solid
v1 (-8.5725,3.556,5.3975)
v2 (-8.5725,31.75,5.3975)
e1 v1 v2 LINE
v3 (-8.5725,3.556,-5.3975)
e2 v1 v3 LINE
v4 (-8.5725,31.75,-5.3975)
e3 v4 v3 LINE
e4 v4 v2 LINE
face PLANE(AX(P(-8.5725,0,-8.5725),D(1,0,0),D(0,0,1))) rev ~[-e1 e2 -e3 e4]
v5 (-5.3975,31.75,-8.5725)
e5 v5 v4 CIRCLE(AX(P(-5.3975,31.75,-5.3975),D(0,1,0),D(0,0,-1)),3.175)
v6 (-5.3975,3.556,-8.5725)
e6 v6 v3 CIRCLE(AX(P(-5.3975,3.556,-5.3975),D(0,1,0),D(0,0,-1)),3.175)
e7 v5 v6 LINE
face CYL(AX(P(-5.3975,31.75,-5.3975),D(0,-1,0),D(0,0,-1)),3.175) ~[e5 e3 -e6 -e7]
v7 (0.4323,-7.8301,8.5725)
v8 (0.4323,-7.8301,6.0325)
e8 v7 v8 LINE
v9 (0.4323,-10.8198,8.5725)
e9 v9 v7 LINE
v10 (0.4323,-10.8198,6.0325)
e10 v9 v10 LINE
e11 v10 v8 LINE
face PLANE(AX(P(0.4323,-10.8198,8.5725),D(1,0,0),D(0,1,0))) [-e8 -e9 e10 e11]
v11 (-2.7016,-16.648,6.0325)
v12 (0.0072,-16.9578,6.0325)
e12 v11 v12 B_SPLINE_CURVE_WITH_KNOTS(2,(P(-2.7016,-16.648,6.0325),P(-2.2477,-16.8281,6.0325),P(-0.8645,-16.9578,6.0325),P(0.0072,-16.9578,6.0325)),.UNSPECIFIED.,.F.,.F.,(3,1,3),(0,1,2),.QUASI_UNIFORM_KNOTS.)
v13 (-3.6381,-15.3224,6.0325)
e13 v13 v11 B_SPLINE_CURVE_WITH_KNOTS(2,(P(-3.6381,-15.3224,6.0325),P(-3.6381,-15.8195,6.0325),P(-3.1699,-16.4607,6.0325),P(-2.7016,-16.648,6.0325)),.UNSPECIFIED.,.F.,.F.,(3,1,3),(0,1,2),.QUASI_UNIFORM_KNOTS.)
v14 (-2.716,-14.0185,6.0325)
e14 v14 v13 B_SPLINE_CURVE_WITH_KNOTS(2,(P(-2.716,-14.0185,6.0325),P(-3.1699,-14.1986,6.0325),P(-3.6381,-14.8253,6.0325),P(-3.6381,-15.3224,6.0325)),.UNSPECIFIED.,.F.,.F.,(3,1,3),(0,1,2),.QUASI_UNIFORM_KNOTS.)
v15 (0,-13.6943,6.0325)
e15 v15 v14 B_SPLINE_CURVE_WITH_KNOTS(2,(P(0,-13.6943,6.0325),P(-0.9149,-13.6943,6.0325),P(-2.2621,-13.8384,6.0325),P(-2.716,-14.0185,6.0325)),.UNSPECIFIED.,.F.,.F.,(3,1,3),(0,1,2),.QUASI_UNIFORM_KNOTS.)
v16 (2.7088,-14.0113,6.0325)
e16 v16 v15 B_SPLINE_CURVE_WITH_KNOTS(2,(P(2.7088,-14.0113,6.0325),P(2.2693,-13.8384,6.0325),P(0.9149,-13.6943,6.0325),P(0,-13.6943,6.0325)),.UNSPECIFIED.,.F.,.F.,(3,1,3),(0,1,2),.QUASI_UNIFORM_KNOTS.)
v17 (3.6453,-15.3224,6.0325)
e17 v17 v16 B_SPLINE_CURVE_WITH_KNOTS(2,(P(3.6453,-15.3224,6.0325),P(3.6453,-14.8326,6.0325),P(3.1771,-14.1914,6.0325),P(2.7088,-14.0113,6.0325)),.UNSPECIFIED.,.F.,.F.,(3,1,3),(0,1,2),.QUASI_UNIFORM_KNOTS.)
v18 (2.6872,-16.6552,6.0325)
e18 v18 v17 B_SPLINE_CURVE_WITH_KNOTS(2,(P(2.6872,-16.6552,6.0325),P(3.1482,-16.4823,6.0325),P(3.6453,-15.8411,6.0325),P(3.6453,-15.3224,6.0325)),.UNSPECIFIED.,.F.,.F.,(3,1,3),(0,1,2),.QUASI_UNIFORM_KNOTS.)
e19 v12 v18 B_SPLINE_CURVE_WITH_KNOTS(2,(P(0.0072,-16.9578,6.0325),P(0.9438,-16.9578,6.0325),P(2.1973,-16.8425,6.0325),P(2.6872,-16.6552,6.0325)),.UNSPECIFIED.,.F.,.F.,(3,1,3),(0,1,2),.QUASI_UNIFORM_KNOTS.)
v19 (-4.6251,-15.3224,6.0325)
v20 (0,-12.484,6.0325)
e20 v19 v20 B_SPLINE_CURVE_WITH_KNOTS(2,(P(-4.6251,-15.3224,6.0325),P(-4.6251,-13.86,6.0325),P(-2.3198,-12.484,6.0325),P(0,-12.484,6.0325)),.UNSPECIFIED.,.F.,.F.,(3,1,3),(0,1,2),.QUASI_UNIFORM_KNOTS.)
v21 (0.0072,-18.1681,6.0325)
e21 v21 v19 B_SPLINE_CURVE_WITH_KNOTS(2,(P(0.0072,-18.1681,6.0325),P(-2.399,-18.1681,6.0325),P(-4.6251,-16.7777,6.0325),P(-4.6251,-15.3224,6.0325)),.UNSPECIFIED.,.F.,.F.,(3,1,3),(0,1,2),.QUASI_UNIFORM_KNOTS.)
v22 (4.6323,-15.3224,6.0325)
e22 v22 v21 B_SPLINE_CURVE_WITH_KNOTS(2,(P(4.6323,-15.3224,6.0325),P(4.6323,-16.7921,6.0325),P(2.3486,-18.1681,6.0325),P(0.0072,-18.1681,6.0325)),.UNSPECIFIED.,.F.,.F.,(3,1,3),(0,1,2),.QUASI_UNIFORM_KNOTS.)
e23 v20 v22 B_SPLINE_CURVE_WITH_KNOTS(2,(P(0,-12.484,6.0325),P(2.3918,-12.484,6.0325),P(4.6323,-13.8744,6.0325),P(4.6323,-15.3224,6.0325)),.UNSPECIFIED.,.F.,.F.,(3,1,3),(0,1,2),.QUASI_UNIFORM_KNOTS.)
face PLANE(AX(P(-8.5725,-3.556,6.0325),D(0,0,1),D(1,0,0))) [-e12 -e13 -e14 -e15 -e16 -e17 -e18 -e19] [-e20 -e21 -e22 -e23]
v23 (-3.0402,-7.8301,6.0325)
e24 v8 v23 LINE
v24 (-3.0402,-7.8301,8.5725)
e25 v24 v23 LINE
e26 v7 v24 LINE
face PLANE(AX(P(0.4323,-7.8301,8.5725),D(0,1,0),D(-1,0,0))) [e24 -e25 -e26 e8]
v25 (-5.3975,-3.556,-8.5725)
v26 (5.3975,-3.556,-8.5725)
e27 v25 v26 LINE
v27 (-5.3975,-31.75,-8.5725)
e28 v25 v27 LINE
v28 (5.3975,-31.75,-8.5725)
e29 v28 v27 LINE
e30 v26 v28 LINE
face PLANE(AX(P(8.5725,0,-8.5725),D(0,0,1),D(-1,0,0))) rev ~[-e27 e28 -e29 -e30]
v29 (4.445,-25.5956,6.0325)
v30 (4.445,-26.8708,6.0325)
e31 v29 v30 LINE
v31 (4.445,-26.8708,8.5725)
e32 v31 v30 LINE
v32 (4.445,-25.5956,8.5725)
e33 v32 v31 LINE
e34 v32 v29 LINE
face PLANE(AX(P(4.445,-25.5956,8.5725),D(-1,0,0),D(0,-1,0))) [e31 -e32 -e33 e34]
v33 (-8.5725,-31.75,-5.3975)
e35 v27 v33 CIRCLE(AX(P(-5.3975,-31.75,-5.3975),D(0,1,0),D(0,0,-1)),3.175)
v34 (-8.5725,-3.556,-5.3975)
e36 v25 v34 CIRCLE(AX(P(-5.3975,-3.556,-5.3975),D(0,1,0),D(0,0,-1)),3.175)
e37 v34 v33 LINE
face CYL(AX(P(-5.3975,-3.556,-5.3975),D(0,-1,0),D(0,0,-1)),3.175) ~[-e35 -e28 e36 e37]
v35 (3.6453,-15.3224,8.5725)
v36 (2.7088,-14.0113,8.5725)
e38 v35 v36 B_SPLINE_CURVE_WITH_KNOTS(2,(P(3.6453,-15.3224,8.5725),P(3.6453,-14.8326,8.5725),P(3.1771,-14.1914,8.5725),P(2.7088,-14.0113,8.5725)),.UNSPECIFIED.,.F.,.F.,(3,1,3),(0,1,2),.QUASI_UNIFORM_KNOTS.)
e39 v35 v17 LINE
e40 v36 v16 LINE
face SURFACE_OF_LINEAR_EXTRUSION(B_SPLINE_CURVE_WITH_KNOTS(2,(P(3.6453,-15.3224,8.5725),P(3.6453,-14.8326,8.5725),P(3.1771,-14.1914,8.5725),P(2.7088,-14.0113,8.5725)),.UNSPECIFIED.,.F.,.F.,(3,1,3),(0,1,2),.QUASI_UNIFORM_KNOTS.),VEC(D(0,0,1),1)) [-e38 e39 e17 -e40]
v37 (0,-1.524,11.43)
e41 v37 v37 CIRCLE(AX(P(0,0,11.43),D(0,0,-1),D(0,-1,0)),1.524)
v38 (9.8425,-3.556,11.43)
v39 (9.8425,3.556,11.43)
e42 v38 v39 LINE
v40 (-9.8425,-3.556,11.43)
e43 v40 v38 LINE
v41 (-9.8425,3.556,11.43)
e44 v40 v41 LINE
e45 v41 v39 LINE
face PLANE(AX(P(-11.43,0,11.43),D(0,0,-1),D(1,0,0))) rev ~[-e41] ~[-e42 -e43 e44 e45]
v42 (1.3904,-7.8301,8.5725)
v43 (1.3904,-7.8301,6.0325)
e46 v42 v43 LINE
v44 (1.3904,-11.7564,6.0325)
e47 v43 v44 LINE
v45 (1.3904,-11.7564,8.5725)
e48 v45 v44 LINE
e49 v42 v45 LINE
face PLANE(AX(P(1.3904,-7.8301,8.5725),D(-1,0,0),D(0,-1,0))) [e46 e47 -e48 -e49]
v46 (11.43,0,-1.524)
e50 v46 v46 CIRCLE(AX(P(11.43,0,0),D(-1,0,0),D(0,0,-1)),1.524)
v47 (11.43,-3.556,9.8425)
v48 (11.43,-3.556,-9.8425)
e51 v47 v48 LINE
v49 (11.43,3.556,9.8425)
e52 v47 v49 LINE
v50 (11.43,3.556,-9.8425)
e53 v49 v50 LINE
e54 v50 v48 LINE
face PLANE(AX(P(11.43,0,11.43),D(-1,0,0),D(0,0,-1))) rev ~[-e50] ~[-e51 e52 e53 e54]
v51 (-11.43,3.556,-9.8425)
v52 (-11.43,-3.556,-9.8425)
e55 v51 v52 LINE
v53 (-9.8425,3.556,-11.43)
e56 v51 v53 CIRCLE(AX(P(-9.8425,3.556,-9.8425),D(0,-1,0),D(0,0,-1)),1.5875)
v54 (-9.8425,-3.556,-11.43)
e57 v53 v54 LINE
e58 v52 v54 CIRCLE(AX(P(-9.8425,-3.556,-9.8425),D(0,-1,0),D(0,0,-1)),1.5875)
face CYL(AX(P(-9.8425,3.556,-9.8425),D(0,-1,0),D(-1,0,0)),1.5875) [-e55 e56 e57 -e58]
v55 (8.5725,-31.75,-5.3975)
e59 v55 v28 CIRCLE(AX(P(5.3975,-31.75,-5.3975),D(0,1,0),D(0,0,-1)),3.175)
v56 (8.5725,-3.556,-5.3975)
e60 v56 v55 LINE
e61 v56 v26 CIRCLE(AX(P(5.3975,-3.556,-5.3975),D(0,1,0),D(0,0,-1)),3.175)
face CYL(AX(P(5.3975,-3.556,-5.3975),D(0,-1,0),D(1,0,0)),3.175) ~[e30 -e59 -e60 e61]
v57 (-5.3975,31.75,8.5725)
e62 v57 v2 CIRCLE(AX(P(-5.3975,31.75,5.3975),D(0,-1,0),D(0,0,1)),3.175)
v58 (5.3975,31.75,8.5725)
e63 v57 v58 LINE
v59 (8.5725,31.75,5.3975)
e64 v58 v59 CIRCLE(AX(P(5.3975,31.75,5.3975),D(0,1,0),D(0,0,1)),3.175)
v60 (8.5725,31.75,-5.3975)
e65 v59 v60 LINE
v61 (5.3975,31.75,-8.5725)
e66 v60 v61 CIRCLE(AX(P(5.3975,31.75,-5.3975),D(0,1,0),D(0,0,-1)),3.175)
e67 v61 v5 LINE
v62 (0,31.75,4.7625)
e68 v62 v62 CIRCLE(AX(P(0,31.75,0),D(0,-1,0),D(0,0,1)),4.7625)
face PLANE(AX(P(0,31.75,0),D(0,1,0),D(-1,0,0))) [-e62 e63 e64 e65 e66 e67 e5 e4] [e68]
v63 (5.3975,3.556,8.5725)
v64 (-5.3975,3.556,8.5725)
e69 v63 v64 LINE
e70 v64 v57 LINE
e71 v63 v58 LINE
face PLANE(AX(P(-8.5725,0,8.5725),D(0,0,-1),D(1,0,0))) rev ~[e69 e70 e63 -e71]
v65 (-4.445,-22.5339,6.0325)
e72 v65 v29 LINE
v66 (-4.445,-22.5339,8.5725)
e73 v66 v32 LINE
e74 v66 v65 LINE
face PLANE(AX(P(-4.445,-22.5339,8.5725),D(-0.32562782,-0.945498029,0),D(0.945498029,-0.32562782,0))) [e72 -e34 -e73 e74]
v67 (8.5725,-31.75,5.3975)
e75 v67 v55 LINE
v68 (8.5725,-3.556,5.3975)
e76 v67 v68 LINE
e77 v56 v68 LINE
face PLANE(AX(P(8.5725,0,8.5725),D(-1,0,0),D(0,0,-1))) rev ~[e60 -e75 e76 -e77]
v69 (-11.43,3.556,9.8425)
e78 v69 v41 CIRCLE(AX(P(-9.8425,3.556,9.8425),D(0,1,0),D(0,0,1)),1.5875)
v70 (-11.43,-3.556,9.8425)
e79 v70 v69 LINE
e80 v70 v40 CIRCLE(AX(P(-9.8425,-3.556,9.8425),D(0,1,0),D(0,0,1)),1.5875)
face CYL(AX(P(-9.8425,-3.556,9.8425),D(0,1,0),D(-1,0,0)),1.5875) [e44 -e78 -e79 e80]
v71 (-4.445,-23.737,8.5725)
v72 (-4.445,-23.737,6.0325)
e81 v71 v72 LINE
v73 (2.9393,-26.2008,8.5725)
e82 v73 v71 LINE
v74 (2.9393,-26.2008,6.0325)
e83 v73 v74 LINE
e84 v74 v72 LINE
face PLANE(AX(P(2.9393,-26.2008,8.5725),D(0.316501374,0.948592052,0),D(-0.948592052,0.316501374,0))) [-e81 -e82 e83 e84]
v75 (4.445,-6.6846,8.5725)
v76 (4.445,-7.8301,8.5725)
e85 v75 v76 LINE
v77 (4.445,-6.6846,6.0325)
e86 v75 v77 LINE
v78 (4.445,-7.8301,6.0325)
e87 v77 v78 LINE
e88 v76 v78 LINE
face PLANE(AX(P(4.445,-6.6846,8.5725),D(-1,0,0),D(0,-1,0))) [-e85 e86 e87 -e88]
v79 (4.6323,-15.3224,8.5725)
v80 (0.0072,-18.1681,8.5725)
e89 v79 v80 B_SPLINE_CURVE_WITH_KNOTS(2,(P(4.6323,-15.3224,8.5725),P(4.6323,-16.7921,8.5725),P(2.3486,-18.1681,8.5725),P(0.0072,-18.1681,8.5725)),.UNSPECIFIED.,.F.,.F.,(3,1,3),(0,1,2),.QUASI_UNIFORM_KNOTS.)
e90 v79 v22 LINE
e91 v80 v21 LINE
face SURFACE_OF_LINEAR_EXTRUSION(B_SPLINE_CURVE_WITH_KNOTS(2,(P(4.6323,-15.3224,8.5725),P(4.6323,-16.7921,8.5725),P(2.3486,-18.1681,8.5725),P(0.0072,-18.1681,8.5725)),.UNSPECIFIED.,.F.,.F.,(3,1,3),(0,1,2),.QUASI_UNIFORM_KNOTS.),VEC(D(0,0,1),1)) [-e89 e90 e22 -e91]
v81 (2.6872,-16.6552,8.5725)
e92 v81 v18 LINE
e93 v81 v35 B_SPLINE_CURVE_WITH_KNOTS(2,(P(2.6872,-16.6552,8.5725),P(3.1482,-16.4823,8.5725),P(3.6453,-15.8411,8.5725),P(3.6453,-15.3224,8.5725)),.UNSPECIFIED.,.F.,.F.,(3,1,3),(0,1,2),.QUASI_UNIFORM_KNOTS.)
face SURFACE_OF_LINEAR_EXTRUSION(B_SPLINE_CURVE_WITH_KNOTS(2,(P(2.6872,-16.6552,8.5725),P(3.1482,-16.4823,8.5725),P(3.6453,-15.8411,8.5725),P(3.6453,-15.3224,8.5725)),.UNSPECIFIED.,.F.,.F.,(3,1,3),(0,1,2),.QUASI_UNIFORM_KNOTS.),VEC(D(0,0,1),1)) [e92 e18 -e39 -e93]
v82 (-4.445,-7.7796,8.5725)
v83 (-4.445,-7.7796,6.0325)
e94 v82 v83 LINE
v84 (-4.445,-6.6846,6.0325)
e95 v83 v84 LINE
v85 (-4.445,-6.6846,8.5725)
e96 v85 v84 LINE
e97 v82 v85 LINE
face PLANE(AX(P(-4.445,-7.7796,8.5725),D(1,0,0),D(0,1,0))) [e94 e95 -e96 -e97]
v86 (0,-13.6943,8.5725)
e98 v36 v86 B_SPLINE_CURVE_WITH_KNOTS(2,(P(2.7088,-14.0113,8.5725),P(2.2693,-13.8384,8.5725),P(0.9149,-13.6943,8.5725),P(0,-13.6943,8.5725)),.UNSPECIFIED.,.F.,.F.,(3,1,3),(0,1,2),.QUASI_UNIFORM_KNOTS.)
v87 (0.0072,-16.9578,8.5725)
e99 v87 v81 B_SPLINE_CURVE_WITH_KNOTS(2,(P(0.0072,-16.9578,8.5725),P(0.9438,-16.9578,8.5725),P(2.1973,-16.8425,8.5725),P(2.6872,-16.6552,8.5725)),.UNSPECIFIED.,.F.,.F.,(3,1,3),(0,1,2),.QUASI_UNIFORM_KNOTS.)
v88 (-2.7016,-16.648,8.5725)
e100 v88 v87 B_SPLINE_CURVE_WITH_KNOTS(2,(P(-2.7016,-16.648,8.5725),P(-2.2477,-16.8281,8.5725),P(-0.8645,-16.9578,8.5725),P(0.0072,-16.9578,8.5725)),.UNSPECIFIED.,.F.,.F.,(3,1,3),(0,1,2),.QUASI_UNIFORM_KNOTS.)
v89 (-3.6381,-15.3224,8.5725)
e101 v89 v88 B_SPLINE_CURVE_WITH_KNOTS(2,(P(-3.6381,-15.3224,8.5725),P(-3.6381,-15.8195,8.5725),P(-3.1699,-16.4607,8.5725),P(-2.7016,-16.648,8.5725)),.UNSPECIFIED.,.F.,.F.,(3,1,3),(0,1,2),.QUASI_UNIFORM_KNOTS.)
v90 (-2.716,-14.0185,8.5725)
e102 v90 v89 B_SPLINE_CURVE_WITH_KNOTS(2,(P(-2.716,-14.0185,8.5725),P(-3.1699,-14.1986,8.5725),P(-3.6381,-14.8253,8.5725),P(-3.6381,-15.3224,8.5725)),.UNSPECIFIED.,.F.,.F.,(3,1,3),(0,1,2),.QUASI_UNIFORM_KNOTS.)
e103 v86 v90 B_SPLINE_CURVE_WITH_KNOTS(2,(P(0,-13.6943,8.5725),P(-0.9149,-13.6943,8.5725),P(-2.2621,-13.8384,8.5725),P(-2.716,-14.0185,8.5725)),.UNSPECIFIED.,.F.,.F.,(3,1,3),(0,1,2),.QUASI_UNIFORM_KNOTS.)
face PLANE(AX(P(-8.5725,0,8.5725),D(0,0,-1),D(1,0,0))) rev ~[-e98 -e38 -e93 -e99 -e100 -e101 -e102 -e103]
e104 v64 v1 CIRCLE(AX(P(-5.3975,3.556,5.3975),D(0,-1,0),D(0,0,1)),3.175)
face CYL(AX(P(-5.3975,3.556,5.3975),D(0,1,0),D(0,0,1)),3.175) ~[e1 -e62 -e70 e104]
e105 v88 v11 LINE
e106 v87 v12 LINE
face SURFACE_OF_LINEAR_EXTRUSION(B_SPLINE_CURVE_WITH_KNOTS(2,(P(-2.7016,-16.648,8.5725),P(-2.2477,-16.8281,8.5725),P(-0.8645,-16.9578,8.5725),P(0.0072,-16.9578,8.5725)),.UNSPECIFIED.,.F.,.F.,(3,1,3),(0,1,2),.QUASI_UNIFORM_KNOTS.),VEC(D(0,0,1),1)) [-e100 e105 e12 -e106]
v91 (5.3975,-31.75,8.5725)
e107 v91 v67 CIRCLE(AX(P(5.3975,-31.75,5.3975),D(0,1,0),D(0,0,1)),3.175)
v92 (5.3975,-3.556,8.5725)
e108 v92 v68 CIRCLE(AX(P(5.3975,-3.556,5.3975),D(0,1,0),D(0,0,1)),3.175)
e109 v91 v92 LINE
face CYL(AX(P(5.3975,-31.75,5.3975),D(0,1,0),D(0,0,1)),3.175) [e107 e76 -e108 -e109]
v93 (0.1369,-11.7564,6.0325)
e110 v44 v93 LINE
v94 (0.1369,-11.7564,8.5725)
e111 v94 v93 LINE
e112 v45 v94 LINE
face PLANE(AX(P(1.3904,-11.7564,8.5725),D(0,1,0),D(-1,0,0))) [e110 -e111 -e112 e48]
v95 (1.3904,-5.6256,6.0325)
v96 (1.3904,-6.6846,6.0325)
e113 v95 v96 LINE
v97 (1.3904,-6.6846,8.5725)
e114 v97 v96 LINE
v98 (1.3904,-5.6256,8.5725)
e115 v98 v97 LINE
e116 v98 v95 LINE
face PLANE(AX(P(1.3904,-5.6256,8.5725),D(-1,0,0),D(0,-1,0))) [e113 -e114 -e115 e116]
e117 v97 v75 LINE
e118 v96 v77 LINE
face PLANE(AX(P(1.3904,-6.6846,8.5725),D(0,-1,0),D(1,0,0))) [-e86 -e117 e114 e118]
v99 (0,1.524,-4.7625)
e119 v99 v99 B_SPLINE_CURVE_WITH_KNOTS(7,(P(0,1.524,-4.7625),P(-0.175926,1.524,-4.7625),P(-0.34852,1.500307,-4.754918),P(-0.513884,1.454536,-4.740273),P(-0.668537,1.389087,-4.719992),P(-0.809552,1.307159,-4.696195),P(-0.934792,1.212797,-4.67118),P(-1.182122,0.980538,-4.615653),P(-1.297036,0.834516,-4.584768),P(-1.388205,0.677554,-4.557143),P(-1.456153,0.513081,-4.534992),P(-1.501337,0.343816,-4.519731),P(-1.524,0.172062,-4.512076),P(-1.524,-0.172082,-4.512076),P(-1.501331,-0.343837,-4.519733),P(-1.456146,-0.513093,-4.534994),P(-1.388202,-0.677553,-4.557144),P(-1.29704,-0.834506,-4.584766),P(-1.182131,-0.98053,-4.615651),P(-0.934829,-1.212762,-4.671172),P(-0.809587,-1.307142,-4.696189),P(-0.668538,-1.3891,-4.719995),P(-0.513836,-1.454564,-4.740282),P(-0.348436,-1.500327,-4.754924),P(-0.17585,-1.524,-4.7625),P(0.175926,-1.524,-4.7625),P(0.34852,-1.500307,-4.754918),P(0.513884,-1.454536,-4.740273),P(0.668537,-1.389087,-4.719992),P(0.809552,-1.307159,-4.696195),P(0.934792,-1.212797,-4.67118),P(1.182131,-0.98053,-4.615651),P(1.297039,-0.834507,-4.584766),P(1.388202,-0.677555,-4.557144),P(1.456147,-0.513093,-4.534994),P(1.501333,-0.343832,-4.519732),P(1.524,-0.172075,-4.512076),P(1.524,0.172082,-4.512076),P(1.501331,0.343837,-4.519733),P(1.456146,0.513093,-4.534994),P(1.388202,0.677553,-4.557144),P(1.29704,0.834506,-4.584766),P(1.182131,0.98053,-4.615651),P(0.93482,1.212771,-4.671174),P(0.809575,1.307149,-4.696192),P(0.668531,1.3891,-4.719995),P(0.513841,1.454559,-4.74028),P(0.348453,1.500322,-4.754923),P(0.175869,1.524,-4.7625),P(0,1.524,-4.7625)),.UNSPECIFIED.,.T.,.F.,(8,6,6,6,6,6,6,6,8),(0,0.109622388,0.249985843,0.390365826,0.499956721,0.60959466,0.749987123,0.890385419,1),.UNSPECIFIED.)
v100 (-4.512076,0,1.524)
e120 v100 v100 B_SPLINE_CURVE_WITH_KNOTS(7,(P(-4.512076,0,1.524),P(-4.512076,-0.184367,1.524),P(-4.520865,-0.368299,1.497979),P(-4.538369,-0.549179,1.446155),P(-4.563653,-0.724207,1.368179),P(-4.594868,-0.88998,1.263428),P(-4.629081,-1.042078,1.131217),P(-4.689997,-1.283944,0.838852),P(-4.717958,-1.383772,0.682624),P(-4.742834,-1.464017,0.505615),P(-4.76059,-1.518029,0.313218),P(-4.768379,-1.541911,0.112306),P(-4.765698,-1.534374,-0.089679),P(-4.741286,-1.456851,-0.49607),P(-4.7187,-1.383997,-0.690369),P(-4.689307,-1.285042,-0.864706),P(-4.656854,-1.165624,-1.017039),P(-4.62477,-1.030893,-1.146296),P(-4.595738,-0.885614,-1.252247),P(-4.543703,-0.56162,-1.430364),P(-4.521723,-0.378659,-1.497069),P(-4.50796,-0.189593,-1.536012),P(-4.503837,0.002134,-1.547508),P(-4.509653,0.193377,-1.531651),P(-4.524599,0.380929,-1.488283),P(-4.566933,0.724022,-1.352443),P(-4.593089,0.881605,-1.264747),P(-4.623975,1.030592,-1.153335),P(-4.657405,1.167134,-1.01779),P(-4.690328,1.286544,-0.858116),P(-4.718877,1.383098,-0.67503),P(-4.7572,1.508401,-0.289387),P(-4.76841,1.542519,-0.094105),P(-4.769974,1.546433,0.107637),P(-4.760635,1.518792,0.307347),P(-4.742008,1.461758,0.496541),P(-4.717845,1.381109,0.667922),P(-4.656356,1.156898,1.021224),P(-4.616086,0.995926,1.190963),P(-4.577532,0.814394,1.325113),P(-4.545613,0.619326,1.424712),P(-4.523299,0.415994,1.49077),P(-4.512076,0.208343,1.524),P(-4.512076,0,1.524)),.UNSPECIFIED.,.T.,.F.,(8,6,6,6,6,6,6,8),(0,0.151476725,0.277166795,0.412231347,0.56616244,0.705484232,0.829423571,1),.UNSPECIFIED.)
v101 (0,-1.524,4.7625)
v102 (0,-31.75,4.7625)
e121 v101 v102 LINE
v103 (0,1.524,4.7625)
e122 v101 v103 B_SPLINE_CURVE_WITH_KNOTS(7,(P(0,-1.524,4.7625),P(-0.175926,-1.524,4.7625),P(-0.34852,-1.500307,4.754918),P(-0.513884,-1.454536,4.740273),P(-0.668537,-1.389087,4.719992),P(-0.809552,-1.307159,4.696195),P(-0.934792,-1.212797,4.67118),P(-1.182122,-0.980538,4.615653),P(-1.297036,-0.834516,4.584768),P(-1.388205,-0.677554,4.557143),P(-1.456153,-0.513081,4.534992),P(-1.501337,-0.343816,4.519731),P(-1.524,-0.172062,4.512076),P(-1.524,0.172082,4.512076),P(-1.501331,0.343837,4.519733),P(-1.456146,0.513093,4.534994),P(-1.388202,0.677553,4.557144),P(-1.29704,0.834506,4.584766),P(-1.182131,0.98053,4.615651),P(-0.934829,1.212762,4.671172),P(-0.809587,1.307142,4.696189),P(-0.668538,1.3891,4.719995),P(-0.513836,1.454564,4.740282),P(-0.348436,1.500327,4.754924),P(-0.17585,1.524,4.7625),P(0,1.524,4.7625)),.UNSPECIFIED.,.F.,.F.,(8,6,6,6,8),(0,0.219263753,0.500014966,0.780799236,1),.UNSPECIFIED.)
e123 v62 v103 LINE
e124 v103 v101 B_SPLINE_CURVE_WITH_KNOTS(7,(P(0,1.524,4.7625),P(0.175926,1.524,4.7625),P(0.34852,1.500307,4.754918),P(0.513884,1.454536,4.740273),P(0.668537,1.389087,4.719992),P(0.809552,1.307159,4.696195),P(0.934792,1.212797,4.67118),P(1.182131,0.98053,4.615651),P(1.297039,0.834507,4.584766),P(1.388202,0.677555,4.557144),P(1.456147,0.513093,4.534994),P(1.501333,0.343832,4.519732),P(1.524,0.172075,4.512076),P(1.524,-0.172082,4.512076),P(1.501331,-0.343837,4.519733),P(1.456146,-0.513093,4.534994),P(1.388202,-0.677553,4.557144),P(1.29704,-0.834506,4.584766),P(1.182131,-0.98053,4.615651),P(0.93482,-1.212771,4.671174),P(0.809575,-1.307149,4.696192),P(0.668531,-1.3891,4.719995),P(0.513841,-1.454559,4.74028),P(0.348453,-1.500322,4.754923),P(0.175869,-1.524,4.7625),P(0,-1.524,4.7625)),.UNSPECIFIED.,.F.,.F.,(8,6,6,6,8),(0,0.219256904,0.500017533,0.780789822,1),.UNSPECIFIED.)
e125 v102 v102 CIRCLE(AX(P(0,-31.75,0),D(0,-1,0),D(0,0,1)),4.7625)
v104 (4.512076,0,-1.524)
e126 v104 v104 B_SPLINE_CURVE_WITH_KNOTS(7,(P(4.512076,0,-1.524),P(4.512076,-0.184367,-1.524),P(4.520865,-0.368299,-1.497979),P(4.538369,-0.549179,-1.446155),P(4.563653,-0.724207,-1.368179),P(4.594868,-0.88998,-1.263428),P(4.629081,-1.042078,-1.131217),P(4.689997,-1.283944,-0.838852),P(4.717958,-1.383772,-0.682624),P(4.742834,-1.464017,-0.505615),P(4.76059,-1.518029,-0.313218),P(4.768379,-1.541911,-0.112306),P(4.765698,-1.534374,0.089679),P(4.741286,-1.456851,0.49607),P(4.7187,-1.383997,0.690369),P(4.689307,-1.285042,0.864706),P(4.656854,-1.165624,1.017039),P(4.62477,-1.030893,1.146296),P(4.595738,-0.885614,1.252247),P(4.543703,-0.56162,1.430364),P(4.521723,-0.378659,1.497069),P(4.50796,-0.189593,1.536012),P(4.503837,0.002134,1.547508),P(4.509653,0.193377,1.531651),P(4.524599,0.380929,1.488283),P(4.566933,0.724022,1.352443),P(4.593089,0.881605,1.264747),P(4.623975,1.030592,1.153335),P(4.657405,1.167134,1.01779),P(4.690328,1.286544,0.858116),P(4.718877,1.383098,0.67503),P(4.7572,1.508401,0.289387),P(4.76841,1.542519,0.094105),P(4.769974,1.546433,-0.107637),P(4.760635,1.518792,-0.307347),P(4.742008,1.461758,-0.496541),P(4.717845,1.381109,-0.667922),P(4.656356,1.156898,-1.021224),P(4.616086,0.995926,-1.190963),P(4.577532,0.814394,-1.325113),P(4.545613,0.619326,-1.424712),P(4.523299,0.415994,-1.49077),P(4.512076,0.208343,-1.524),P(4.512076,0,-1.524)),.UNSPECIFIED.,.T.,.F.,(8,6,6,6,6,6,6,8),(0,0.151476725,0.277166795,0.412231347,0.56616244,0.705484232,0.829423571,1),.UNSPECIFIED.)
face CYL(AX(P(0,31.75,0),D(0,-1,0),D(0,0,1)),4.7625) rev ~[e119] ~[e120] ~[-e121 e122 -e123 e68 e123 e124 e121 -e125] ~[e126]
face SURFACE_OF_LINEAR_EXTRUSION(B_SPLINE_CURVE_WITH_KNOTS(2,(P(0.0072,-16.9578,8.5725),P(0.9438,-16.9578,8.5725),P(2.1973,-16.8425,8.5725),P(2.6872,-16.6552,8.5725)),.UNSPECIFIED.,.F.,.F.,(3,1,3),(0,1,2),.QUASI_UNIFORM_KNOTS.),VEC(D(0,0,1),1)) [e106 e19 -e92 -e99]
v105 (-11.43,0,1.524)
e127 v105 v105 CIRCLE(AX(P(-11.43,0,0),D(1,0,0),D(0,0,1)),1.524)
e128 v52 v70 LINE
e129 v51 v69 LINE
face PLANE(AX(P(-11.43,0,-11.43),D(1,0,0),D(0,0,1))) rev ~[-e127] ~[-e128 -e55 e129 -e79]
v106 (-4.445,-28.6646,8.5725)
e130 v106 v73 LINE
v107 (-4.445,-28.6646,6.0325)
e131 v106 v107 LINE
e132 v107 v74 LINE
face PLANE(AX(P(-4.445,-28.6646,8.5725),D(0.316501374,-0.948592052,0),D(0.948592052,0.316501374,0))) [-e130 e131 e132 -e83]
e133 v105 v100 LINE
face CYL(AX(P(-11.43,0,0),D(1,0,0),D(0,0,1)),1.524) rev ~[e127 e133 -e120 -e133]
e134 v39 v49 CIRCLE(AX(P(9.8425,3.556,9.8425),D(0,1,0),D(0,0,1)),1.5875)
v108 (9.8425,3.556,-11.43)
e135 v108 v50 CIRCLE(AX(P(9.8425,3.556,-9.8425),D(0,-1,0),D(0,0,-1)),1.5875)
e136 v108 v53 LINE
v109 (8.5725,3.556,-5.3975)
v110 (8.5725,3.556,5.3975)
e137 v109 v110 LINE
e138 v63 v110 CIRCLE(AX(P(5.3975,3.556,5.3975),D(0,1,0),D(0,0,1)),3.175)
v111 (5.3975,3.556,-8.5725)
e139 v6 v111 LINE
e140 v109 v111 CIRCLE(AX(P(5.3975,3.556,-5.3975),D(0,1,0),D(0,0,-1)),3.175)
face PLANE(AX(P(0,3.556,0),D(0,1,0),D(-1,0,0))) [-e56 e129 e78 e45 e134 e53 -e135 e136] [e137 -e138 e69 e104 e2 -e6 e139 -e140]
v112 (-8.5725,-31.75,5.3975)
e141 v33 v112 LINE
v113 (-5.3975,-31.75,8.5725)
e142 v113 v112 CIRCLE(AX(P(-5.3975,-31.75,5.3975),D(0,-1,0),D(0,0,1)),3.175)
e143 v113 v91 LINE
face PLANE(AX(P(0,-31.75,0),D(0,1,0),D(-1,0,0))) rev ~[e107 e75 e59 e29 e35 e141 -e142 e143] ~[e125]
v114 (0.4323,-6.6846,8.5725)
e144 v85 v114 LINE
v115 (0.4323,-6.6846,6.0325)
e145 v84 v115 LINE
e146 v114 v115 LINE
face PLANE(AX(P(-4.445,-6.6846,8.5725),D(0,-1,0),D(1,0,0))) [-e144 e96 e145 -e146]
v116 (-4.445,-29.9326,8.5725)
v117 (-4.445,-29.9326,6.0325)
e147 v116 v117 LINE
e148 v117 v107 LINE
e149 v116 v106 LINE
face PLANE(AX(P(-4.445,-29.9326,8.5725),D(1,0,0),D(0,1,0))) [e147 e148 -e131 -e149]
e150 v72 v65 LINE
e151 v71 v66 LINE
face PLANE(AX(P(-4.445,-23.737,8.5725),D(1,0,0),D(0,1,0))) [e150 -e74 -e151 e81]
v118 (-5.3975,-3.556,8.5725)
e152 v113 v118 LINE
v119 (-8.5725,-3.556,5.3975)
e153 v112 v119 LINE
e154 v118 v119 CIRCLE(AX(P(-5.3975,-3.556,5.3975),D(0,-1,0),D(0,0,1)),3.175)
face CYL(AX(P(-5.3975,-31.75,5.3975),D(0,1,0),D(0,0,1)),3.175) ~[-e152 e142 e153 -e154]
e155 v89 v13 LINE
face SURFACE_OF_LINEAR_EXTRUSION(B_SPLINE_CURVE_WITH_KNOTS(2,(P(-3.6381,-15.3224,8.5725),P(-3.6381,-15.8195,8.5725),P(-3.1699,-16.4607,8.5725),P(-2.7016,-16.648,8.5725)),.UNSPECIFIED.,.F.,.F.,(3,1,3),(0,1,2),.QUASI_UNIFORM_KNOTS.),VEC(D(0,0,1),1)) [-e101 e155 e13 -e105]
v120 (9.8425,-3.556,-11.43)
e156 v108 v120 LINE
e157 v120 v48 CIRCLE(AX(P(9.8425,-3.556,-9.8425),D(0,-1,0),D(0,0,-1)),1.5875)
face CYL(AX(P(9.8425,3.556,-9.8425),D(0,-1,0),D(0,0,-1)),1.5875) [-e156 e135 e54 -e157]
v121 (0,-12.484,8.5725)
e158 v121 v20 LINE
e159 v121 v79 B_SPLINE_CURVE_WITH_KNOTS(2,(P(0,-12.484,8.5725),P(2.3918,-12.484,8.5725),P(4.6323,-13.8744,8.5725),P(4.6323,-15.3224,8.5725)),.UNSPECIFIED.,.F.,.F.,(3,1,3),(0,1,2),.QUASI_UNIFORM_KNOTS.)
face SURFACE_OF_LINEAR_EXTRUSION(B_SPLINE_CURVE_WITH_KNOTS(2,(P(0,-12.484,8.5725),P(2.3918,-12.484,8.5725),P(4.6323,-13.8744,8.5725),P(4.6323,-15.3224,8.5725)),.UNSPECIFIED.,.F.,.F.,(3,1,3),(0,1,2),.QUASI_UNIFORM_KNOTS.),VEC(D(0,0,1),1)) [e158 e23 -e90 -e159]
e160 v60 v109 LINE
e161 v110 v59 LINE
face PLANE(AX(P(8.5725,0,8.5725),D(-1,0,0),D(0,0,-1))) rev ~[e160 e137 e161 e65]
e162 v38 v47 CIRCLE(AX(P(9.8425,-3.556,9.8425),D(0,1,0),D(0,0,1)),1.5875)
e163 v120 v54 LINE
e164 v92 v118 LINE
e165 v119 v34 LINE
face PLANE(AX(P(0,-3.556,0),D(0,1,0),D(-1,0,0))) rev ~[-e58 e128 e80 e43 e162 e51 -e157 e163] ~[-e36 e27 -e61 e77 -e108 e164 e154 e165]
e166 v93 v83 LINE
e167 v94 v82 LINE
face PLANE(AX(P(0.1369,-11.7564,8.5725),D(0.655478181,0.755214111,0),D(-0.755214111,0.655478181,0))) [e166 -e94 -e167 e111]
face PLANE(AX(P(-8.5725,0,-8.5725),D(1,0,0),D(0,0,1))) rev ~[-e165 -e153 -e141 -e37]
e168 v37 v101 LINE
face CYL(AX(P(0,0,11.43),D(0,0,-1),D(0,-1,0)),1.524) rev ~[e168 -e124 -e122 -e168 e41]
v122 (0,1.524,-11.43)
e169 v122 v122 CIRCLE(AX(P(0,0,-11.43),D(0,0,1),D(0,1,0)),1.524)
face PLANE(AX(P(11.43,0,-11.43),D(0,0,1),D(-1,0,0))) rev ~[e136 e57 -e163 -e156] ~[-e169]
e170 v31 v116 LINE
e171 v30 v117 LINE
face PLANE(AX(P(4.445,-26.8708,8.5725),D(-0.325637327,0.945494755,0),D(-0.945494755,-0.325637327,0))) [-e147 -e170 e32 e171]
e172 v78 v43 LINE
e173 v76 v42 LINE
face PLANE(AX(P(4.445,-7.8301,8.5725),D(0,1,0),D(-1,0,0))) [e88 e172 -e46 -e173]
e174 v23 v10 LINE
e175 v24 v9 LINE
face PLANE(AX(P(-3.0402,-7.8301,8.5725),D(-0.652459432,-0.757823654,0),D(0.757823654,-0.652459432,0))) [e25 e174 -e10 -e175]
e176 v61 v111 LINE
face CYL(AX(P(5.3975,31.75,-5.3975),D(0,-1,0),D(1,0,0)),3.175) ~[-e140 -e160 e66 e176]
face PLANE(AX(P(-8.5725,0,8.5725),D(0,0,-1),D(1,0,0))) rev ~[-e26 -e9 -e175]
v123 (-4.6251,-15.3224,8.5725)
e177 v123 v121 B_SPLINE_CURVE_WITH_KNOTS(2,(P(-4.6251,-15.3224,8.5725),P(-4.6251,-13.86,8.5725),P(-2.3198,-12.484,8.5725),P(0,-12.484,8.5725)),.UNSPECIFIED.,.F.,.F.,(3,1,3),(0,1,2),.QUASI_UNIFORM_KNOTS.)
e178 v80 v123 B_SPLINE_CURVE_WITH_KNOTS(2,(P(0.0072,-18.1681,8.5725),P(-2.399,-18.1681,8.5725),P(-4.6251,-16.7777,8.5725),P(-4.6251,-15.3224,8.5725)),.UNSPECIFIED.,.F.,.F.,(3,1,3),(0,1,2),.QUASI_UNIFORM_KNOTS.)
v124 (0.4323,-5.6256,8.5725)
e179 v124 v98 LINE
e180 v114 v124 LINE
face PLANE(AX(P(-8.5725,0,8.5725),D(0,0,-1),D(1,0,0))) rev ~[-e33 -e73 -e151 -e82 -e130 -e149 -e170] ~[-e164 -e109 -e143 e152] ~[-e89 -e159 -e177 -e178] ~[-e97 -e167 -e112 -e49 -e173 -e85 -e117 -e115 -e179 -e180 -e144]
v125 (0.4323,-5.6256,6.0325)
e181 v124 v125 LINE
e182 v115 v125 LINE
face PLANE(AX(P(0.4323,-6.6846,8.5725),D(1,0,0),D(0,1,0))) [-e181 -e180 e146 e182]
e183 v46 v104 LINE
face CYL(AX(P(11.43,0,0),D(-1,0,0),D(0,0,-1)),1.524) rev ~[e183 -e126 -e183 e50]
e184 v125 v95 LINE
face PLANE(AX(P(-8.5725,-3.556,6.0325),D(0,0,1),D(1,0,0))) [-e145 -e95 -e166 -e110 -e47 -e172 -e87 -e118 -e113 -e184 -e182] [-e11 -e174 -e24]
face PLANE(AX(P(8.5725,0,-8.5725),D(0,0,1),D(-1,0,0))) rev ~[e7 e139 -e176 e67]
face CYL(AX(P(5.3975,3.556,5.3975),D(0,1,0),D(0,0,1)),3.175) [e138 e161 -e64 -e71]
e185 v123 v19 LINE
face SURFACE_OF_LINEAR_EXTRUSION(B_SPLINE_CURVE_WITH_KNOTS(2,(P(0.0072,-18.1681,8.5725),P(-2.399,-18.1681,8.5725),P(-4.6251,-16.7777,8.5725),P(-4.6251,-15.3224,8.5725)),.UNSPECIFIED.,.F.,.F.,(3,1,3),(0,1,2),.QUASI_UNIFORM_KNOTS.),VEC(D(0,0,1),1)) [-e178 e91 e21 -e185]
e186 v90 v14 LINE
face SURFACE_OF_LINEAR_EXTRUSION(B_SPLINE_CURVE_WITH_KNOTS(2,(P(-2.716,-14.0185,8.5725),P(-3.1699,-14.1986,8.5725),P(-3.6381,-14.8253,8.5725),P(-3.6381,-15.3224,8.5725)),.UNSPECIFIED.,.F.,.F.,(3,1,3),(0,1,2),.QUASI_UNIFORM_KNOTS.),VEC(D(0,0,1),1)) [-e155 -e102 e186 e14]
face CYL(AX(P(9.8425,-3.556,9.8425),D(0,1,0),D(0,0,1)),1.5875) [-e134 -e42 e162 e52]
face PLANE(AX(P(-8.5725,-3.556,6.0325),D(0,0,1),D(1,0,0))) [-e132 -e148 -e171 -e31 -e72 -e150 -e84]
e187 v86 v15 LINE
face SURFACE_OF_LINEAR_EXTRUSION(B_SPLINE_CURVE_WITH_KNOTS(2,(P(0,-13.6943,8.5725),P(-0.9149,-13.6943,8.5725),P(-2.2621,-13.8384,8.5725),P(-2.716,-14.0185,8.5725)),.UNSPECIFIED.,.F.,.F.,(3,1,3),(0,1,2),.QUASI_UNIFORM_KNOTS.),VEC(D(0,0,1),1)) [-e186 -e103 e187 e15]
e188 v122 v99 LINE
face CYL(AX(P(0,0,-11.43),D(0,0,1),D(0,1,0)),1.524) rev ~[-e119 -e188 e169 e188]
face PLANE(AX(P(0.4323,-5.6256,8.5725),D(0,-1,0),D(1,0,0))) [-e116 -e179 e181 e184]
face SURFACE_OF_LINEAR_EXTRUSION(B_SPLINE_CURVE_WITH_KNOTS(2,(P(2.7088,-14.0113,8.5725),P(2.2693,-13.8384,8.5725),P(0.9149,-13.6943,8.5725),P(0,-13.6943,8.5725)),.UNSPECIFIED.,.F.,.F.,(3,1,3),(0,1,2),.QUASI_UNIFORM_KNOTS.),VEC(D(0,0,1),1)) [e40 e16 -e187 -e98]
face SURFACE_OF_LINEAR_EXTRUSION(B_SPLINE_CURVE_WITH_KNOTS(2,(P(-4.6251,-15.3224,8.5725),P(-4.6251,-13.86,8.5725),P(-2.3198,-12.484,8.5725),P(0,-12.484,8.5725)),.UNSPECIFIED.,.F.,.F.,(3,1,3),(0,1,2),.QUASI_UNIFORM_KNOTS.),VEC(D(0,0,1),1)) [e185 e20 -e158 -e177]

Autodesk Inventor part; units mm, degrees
ref_plane "YZ Plane" through (0, 0, 0) normal (1, 0, 0) x (0, 1, 0)
ref_plane "XZ Plane" through (0, 0, 0) normal (0, 1, 0) x (-1, 0, 0)
ref_plane "XY Plane" through (0, 0, 0) normal (0, 0, 1) x (1, 0, 0)
sketch "Sketch1" plane through (0, 0, 0) normal (0, 1, 0) x (-1, 0, 0)
  line L0 (11.43, 11.43) -> (-11.43, 11.43)
  line L1 (-11.43, 11.43) -> (-11.43, -11.43)
  line L2 (-11.43, -11.43) -> (11.43, -11.43)
  line L3 (11.43, -11.43) -> (11.43, 11.43)
  line L4 (11.43, 11.43) -> (-11.43, -11.43) construction
  line L5 (-11.43, 11.43) -> (11.43, -11.43) construction
  point P0 (0, 0)
  dimension "outerWidth" = 22.86
  dimension "outerLength" = 22.86
extrude "Extrusion1" add sketch "Sketch1" along normal mid plane 7.112
sketch "Sketch2" plane through (0, 0, 0) normal (0, 1, 0) x (-1, 0, 0)
  line L0 (8.5725, 8.5725) -> (-8.5725, 8.5725)
  line L1 (-8.5725, 8.5725) -> (-8.5725, -8.5725)
  line L2 (-8.5725, -8.5725) -> (8.5725, -8.5725)
  line L3 (8.5725, -8.5725) -> (8.5725, 8.5725)
  line L4 (8.5725, 8.5725) -> (-8.5725, -8.5725) construction
  line L5 (-8.5725, 8.5725) -> (8.5725, -8.5725) construction
  point P0 (0, 0)
  dimension "innerWidth" = 17.145
  dimension "innerLength" = 17.145
extrude "Extrusion2" add sketch "Sketch2" along normal mid plane 63.5
sketch "Sketch3" plane through (-8.5725, -3.556, 8.5725) normal (0, 0, 1) x (1, 0, 0)
  line L0 (0, -28.194) -> (17.145, -28.194) construction
  line L1 (13.0175, -28.194) -> (13.0175, 0) construction
  line L2 (20.0025, 0) -> (-2.8575, 0) construction
  line L3 (17.145, 0) -> (17.145, -28.194) projected
  line L4 (4.1275, -18.9779) -> (13.0175, -22.0396)
  line L5 (13.0175, -22.0396) -> (13.0175, -23.3148)
  line L6 (13.0175, -23.3148) -> (4.1275, -26.3766)
  line L7 (4.1275, -26.3766) -> (4.1275, -25.1086)
  line L8 (4.1275, -25.1086) -> (11.5118, -22.6448)
  line L9 (11.5118, -22.6448) -> (4.1275, -20.181)
  line L10 (4.1275, -20.181) -> (4.1275, -18.9779)
  spline S0 degree 2 poles (8.5725, -8.928) (10.9643, -8.928) (13.2048, -10.3184) (13.2048, -11.7664) knots 0 0 0 1 2 2 2
  spline S1 degree 2 poles (13.2048, -11.7664) (13.2048, -13.2361) (10.9211, -14.6121) (8.5797, -14.6121) knots 0 0 0 1 2 2 2
  spline S2 degree 2 poles (8.5797, -14.6121) (6.1735, -14.6121) (3.9474, -13.2217) (3.9474, -11.7664) knots 0 0 0 1 2 2 2
  spline S3 degree 2 poles (3.9474, -11.7664) (3.9474, -10.304) (6.2527, -8.928) (8.5725, -8.928) knots 0 0 0 1 2 2 2
  spline S4 degree 2 poles (11.2813, -10.4553) (10.8418, -10.2824) (9.4874, -10.1383) (8.5725, -10.1383) knots 0 0 0 1 2 2 2
  spline S5 degree 2 poles (8.5725, -10.1383) (7.6576, -10.1383) (6.3104, -10.2824) (5.8565, -10.4625) knots 0 0 0 1 2 2 2
  spline S6 degree 2 poles (5.8565, -10.4625) (5.4026, -10.6426) (4.9344, -11.2693) (4.9344, -11.7664) knots 0 0 0 1 2 2 2
  spline S7 degree 2 poles (4.9344, -11.7664) (4.9344, -12.2635) (5.4026, -12.9047) (5.8709, -13.092) knots 0 0 0 1 2 2 2
  spline S8 degree 2 poles (5.8709, -13.092) (6.3248, -13.2721) (7.708, -13.4018) (8.5797, -13.4018) knots 0 0 0 1 2 2 2
  spline S9 degree 2 poles (8.5797, -13.4018) (9.5163, -13.4018) (10.7698, -13.2865) (11.2597, -13.0992) knots 0 0 0 1 2 2 2
  spline S10 degree 2 poles (11.2597, -13.0992) (11.7207, -12.9263) (12.2178, -12.2851) (12.2178, -11.7664) knots 0 0 0 1 2 2 2
  spline S11 degree 2 poles (12.2178, -11.7664) (12.2178, -11.2766) (11.7496, -10.6354) (11.2813, -10.4553) knots 0 0 0 1 2 2 2
  line L11 (9.9629, -2.0696) -> (9.9629, -3.1286)
  line L12 (9.9629, -3.1286) -> (13.0175, -3.1286)
  line L13 (13.0175, -3.1286) -> (13.0175, -4.2741)
  line L14 (13.0175, -4.2741) -> (9.9629, -4.2741)
  line L15 (9.9629, -4.2741) -> (9.9629, -8.2004)
  line L16 (9.9629, -8.2004) -> (8.7094, -8.2004)
  line L17 (8.7094, -8.2004) -> (4.1275, -4.2236)
  line L18 (4.1275, -4.2236) -> (4.1275, -3.1286)
  line L19 (4.1275, -3.1286) -> (9.0048, -3.1286)
  line L20 (9.0048, -3.1286) -> (9.0048, -2.0696)
  line L21 (9.0048, -2.0696) -> (9.9629, -2.0696)
  line L22 (9.0048, -4.2741) -> (5.5323, -4.2741)
  line L23 (5.5323, -4.2741) -> (9.0048, -7.2638)
  line L24 (9.0048, -7.2638) -> (9.0048, -4.2741)
  point P0 (8.5725, 3.556)
  dimension "textCenterLine" = 4.1275
extrude "Extrusion4" cut sketch "Sketch3" against normal blind 2.54
sketch "Sketch4" plane through (0, 31.75, 0) normal (0, 1, 0) x (1, 0, 0)
  point P0 (0, 0)
  point P1 (0, 0)
hole "Hole1" at (0, 31.75, 0) direction (0, -1, 0) diameter 9.525 end through all
fillet "Fillet1" radius 1.5875 4 edges at (-11.43, 0, 11.43) (11.43, 0, 11.43) (11.43, 0, -11.43) (-11.43, 0, -11.43)
fillet "Fillet2" radius 3.175 8 edges at (8.5725, 17.653, -8.5725) (8.5725, 17.653, 8.5725) (-8.5725, 17.653, -8.5725) (-8.5725, 17.653, 8.5725) (8.5725, -17.653, -8.5725) (8.5725, -17.653, 8.5725) (-8.5725, -17.653, -8.5725) (-8.5725, -17.653, 8.5725)
sketch "Sketch5" plane through (-9.8425, 3.556, 11.43) normal (0, 0, 1) x (1, 0, 0)
  point P0 (9.8425, -3.556)
  point P1 (9.8425, -3.556)
sketch "Sketch6" plane through (11.43, -3.556, -9.8425) normal (1, 0, 0) x (0, 0, -1)
  point P0 (-9.8425, 3.556)
  point P1 (-9.8425, 3.556)
sketch "Sketch7" plane through (9.8425, 3.556, -11.43) normal (0, 0, -1) x (-1, 0, 0)
  point P0 (9.8425, -3.556)
  point P1 (9.8425, -3.556)
sketch "Sketch8" plane through (-11.43, -3.556, -9.8425) normal (-1, 0, 0) x (0, 0, 1)
  point P0 (9.8425, 3.556)
  point P1 (9.8425, 3.556)
hole "Hole2" at (0, 0, 11.43) direction (0, 0, -1) diameter 3.048 depth 12.7 tip angle 118
hole "Hole3" at (11.43, 0, 0) direction (-1, 0, 0) diameter 3.048 depth 12.7 tip angle 118
hole "Hole4" at (0, 0, -11.43) direction (0, 0, 1) diameter 3.048 depth 12.7 tip angle 118
hole "Hole5" at (-11.43, 0, 0) direction (1, 0, 0) diameter 3.048 depth 12.7 tip angle 118
equation "\"textCenterLine\" = 0.5 * innerWidth - 0.5 * textHeight"
equation "\"textHeight\" = 8.89"
properties part number "Supports"
